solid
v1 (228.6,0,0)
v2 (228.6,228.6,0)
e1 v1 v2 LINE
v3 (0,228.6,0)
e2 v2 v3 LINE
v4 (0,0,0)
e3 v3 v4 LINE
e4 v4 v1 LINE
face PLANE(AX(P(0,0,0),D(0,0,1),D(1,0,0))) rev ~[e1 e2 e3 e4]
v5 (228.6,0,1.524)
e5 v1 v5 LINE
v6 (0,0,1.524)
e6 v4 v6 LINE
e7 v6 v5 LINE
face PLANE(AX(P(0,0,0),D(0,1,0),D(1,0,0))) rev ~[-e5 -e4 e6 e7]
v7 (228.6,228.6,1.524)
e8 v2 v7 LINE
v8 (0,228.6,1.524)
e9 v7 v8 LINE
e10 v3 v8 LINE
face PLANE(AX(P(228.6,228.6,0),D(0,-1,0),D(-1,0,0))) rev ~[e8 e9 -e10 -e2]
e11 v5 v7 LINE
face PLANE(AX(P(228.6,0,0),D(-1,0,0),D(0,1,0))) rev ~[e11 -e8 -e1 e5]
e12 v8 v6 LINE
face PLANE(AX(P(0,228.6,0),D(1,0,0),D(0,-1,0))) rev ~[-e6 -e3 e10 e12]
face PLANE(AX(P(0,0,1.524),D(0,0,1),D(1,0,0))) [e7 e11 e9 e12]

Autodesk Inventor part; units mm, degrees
ref_plane "YZ Plane" through (0, 0, 0) normal (1, 0, 0) x (0, 1, 0)
ref_plane "XZ Plane" through (0, 0, 0) normal (0, 1, 0) x (-1, 0, 0)
ref_plane "XY Plane" through (0, 0, 0) normal (0, 0, 1) x (1, 0, 0)
sketch "Sketch1" plane through (0, 0, 0) normal (0, 0, 1) x (1, 0, 0)
  line L0 (0, 0) -> (228.6, 0)
  line L1 (228.6, 0) -> (228.6, 228.6)
  line L2 (228.6, 228.6) -> (0, 228.6)
  line L3 (0, 228.6) -> (0, 0)
  dimension "d0" = 228.6
  dimension "d1" = 228.6
extrude "Extrusion1" add sketch "Sketch1" along normal blind 1.524
sketch "Details" plane through (0, 0, 1.524) normal (0, 0, 1) x (1, 0, 0)
  line L0 (0, 0) -> (82.55, 0) construction
  line L1 (82.55, 0) -> (82.55, 12.7) construction
  line L2 (82.55, 12.7) -> (0, 12.7) construction
  line L3 (0, 12.7) -> (0, 0) construction
  line L4 (82.55, 12.7) -> (146.05, 12.7)
  line L5 (146.05, 12.7) -> (146.05, 15.24)
  line L6 (146.05, 15.24) -> (82.55, 15.24)
  line L7 (82.55, 15.24) -> (82.55, 12.7)
  line L8 (82.55, 12.7) -> (100.33, 12.7)
  line L9 (100.33, 12.7) -> (100.33, 15.24)
  line L10 (100.33, 15.24) -> (82.55, 15.24)
  line L11 (82.55, 15.24) -> (82.55, 12.7)
  line L12 (105.41, 15.24) -> (105.41, 12.7)
  line L13 (123.19, 12.7) -> (123.19, 15.24)
  line L14 (128.27, 15.24) -> (128.27, 12.7)
  line L15 (146.05, 12.7) -> (146.05, 15.24)
  line L16 (82.55, 40.64) -> (82.55, 38.1)
  line L17 (82.55, 38.1) -> (100.33, 38.1)
  line L18 (100.33, 38.1) -> (100.33, 40.64)
  line L19 (100.33, 40.64) -> (82.55, 40.64)
  line L20 (146.05, 40.64) -> (82.55, 40.64)
  line L21 (105.41, 40.64) -> (105.41, 38.1)
  line L22 (82.55, 38.1) -> (146.05, 38.1)
  line L23 (146.05, 38.1) -> (146.05, 40.64)
  line L24 (128.27, 40.64) -> (128.27, 38.1)
  line L25 (123.19, 38.1) -> (123.19, 40.64)
  line L26 (82.55, 66.04) -> (82.55, 63.5)
  line L27 (82.55, 63.5) -> (100.33, 63.5)
  line L28 (100.33, 63.5) -> (100.33, 66.04)
  line L29 (100.33, 66.04) -> (82.55, 66.04)
  line L30 (146.05, 66.04) -> (82.55, 66.04)
  line L31 (105.41, 66.04) -> (105.41, 63.5)
  line L32 (82.55, 63.5) -> (146.05, 63.5)
  line L33 (146.05, 63.5) -> (146.05, 66.04)
  line L34 (128.27, 66.04) -> (128.27, 63.5)
  line L35 (123.19, 63.5) -> (123.19, 66.04)
  line L36 (82.55, 91.44) -> (82.55, 88.9)
  line L37 (82.55, 88.9) -> (100.33, 88.9)
  line L38 (100.33, 88.9) -> (100.33, 91.44)
  line L39 (100.33, 91.44) -> (82.55, 91.44)
  line L40 (146.05, 91.44) -> (82.55, 91.44)
  line L41 (105.41, 91.44) -> (105.41, 88.9)
  line L42 (82.55, 88.9) -> (146.05, 88.9)
  line L43 (146.05, 88.9) -> (146.05, 91.44)
  line L44 (128.27, 91.44) -> (128.27, 88.9)
  line L45 (123.19, 88.9) -> (123.19, 91.44)
  line L46 (82.55, 116.84) -> (82.55, 114.3)
  line L47 (82.55, 114.3) -> (100.33, 114.3)
  line L48 (100.33, 114.3) -> (100.33, 116.84)
  line L49 (100.33, 116.84) -> (82.55, 116.84)
  line L50 (146.05, 116.84) -> (82.55, 116.84)
  line L51 (105.41, 116.84) -> (105.41, 114.3)
  line L52 (82.55, 114.3) -> (146.05, 114.3)
  line L53 (146.05, 114.3) -> (146.05, 116.84)
  line L54 (128.27, 116.84) -> (128.27, 114.3)
  line L55 (123.19, 114.3) -> (123.19, 116.84)
  line L56 (82.55, 142.24) -> (82.55, 139.7)
  line L57 (82.55, 139.7) -> (100.33, 139.7)
  line L58 (100.33, 139.7) -> (100.33, 142.24)
  line L59 (100.33, 142.24) -> (82.55, 142.24)
  line L60 (146.05, 142.24) -> (82.55, 142.24)
  line L61 (105.41, 142.24) -> (105.41, 139.7)
  line L62 (82.55, 139.7) -> (146.05, 139.7)
  line L63 (146.05, 139.7) -> (146.05, 142.24)
  line L64 (128.27, 142.24) -> (128.27, 139.7)
  line L65 (123.19, 139.7) -> (123.19, 142.24)
  line L66 (82.55, 167.64) -> (82.55, 165.1)
  line L67 (82.55, 165.1) -> (100.33, 165.1)
  line L68 (100.33, 165.1) -> (100.33, 167.64)
  line L69 (100.33, 167.64) -> (82.55, 167.64)
  line L70 (146.05, 167.64) -> (82.55, 167.64)
  line L71 (105.41, 167.64) -> (105.41, 165.1)
  line L72 (82.55, 165.1) -> (146.05, 165.1)
  line L73 (146.05, 165.1) -> (146.05, 167.64)
  line L74 (128.27, 167.64) -> (128.27, 165.1)
  line L75 (123.19, 165.1) -> (123.19, 167.64)
  line L76 (82.55, 193.04) -> (82.55, 190.5)
  line L77 (82.55, 190.5) -> (100.33, 190.5)
  line L78 (100.33, 190.5) -> (100.33, 193.04)
  line L79 (100.33, 193.04) -> (82.55, 193.04)
  line L80 (146.05, 193.04) -> (82.55, 193.04)
  line L81 (105.41, 193.04) -> (105.41, 190.5)
  line L82 (82.55, 190.5) -> (146.05, 190.5)
  line L83 (146.05, 190.5) -> (146.05, 193.04)
  line L84 (128.27, 193.04) -> (128.27, 190.5)
  line L85 (123.19, 190.5) -> (123.19, 193.04)
  line L86 (82.55, 15.24) -> (83.185, 15.24) construction
  line L87 (83.185, 15.24) -> (83.185, 14.478) construction
  line L88 (83.185, 14.478) -> (82.55, 14.478) construction
  line L89 (82.55, 14.478) -> (82.55, 15.24) construction
  line L90 (83.185, 14.478) -> (81.915, 14.478)
  line L91 (81.915, 14.478) -> (81.915, 16.764)
  line L92 (81.915, 16.764) -> (83.185, 16.764)
  line L93 (83.185, 16.764) -> (83.185, 14.478)
  line L94 (86.995, 14.478) -> (86.995, 16.764)
  line L95 (86.995, 16.764) -> (88.265, 16.764)
  line L96 (88.265, 16.764) -> (88.265, 14.478)
  line L97 (88.265, 14.478) -> (86.995, 14.478)
  line L98 (92.075, 14.478) -> (92.075, 16.764)
  line L99 (92.075, 16.764) -> (93.345, 16.764)
  line L100 (93.345, 16.764) -> (93.345, 14.478)
  line L101 (93.345, 14.478) -> (92.075, 14.478)
  line L102 (97.155, 14.478) -> (97.155, 16.764)
  line L103 (97.155, 16.764) -> (98.425, 16.764)
  line L104 (98.425, 16.764) -> (98.425, 14.478)
  line L105 (98.425, 14.478) -> (97.155, 14.478)
  line L106 (100.33, 12.7) -> (99.695, 12.7) construction
  line L107 (99.695, 12.7) -> (99.695, 13.462) construction
  line L108 (99.695, 13.462) -> (100.33, 13.462) construction
  line L109 (100.33, 13.462) -> (100.33, 12.7) construction
  line L110 (99.695, 13.462) -> (100.9573, 13.462)
  line L111 (100.9573, 13.462) -> (100.9573, 11.176)
  line L112 (100.9573, 11.176) -> (99.695, 11.176)
  line L113 (99.695, 11.176) -> (99.695, 13.462)
  line L114 (94.615, 13.462) -> (95.8773, 13.462)
  line L115 (95.8773, 13.462) -> (95.8773, 11.176)
  line L116 (95.8773, 11.176) -> (94.615, 11.176)
  line L117 (94.615, 11.176) -> (94.615, 13.462)
  line L118 (89.535, 13.462) -> (90.7973, 13.462)
  line L119 (90.7973, 13.462) -> (90.7973, 11.176)
  line L120 (90.7973, 11.176) -> (89.535, 11.176)
  line L121 (89.535, 11.176) -> (89.535, 13.462)
  line L122 (84.455, 13.462) -> (85.7173, 13.462)
  line L123 (85.7173, 13.462) -> (85.7173, 11.176)
  line L124 (85.7173, 11.176) -> (84.455, 11.176)
  line L125 (84.455, 11.176) -> (84.455, 13.462)
  line L126 (81.915, 39.878) -> (81.915, 42.164)
  line L127 (81.915, 42.164) -> (83.185, 42.164)
  line L128 (83.185, 42.164) -> (83.185, 39.878)
  line L129 (83.185, 39.878) -> (81.915, 39.878)
  line L130 (84.455, 38.862) -> (85.7173, 38.862)
  line L131 (85.7173, 38.862) -> (85.7173, 36.576)
  line L132 (85.7173, 36.576) -> (84.455, 36.576)
  line L133 (84.455, 36.576) -> (84.455, 38.862)
  line L134 (88.265, 39.878) -> (86.995, 39.878)
  line L135 (88.265, 42.164) -> (88.265, 39.878)
  line L136 (86.995, 39.878) -> (86.995, 42.164)
  line L137 (86.995, 42.164) -> (88.265, 42.164)
  line L138 (89.535, 36.576) -> (89.535, 38.862)
  line L139 (90.7973, 36.576) -> (89.535, 36.576)
  line L140 (90.7973, 38.862) -> (90.7973, 36.576)
  line L141 (89.535, 38.862) -> (90.7973, 38.862)
  line L142 (92.075, 39.878) -> (92.075, 42.164)
  line L143 (93.345, 39.878) -> (92.075, 39.878)
  line L144 (93.345, 42.164) -> (93.345, 39.878)
  line L145 (92.075, 42.164) -> (93.345, 42.164)
  line L146 (94.615, 36.576) -> (94.615, 38.862)
  line L147 (94.615, 38.862) -> (95.8773, 38.862)
  line L148 (95.8773, 38.862) -> (95.8773, 36.576)
  line L149 (95.8773, 36.576) -> (94.615, 36.576)
  line L150 (97.155, 39.878) -> (97.155, 42.164)
  line L151 (97.155, 42.164) -> (98.425, 42.164)
  line L152 (98.425, 42.164) -> (98.425, 39.878)
  line L153 (98.425, 39.878) -> (97.155, 39.878)
  line L154 (99.695, 38.862) -> (100.9573, 38.862)
  line L155 (100.9573, 38.862) -> (100.9573, 36.576)
  line L156 (100.9573, 36.576) -> (99.695, 36.576)
  line L157 (99.695, 36.576) -> (99.695, 38.862)
  line L158 (81.915, 65.278) -> (81.915, 67.564)
  line L159 (81.915, 67.564) -> (83.185, 67.564)
  line L160 (83.185, 67.564) -> (83.185, 65.278)
  line L161 (83.185, 65.278) -> (81.915, 65.278)
  line L162 (84.455, 64.262) -> (85.7173, 64.262)
  line L163 (85.7173, 64.262) -> (85.7173, 61.976)
  line L164 (85.7173, 61.976) -> (84.455, 61.976)
  line L165 (84.455, 61.976) -> (84.455, 64.262)
  line L166 (88.265, 65.278) -> (86.995, 65.278)
  line L167 (88.265, 67.564) -> (88.265, 65.278)
  line L168 (86.995, 65.278) -> (86.995, 67.564)
  line L169 (86.995, 67.564) -> (88.265, 67.564)
  line L170 (89.535, 61.976) -> (89.535, 64.262)
  line L171 (90.7973, 61.976) -> (89.535, 61.976)
  line L172 (90.7973, 64.262) -> (90.7973, 61.976)
  line L173 (89.535, 64.262) -> (90.7973, 64.262)
  line L174 (92.075, 65.278) -> (92.075, 67.564)
  line L175 (93.345, 65.278) -> (92.075, 65.278)
  line L176 (93.345, 67.564) -> (93.345, 65.278)
  line L177 (92.075, 67.564) -> (93.345, 67.564)
  line L178 (94.615, 61.976) -> (94.615, 64.262)
  line L179 (94.615, 64.262) -> (95.8773, 64.262)
  line L180 (95.8773, 64.262) -> (95.8773, 61.976)
  line L181 (95.8773, 61.976) -> (94.615, 61.976)
  line L182 (97.155, 65.278) -> (97.155, 67.564)
  line L183 (97.155, 67.564) -> (98.425, 67.564)
  line L184 (98.425, 67.564) -> (98.425, 65.278)
  line L185 (98.425, 65.278) -> (97.155, 65.278)
  line L186 (99.695, 64.262) -> (100.9573, 64.262)
  line L187 (100.9573, 64.262) -> (100.9573, 61.976)
  line L188 (100.9573, 61.976) -> (99.695, 61.976)
  line L189 (99.695, 61.976) -> (99.695, 64.262)
  line L190 (81.915, 90.678) -> (81.915, 92.964)
  line L191 (81.915, 92.964) -> (83.185, 92.964)
  line L192 (83.185, 92.964) -> (83.185, 90.678)
  line L193 (83.185, 90.678) -> (81.915, 90.678)
  line L194 (84.455, 89.662) -> (85.7173, 89.662)
  line L195 (85.7173, 89.662) -> (85.7173, 87.376)
  line L196 (85.7173, 87.376) -> (84.455, 87.376)
  line L197 (84.455, 87.376) -> (84.455, 89.662)
  line L198 (88.265, 90.678) -> (86.995, 90.678)
  line L199 (88.265, 92.964) -> (88.265, 90.678)
  line L200 (86.995, 90.678) -> (86.995, 92.964)
  line L201 (86.995, 92.964) -> (88.265, 92.964)
  line L202 (89.535, 87.376) -> (89.535, 89.662)
  line L203 (90.7973, 87.376) -> (89.535, 87.376)
  line L204 (90.7973, 89.662) -> (90.7973, 87.376)
  line L205 (89.535, 89.662) -> (90.7973, 89.662)
  line L206 (92.075, 90.678) -> (92.075, 92.964)
  line L207 (93.345, 90.678) -> (92.075, 90.678)
  line L208 (93.345, 92.964) -> (93.345, 90.678)
  line L209 (92.075, 92.964) -> (93.345, 92.964)
  line L210 (94.615, 87.376) -> (94.615, 89.662)
  line L211 (94.615, 89.662) -> (95.8773, 89.662)
  line L212 (95.8773, 89.662) -> (95.8773, 87.376)
  line L213 (95.8773, 87.376) -> (94.615, 87.376)
  line L214 (97.155, 90.678) -> (97.155, 92.964)
  line L215 (97.155, 92.964) -> (98.425, 92.964)
  line L216 (98.425, 92.964) -> (98.425, 90.678)
  line L217 (98.425, 90.678) -> (97.155, 90.678)
  line L218 (99.695, 89.662) -> (100.9573, 89.662)
  line L219 (100.9573, 89.662) -> (100.9573, 87.376)
  line L220 (100.9573, 87.376) -> (99.695, 87.376)
  line L221 (99.695, 87.376) -> (99.695, 89.662)
  line L222 (81.915, 116.078) -> (81.915, 118.364)
  line L223 (81.915, 118.364) -> (83.185, 118.364)
  line L224 (83.185, 118.364) -> (83.185, 116.078)
  line L225 (83.185, 116.078) -> (81.915, 116.078)
  line L226 (84.455, 115.062) -> (85.7173, 115.062)
  line L227 (85.7173, 115.062) -> (85.7173, 112.776)
  line L228 (85.7173, 112.776) -> (84.455, 112.776)
  line L229 (84.455, 112.776) -> (84.455, 115.062)
  line L230 (88.265, 116.078) -> (86.995, 116.078)
  line L231 (88.265, 118.364) -> (88.265, 116.078)
  line L232 (86.995, 116.078) -> (86.995, 118.364)
  line L233 (86.995, 118.364) -> (88.265, 118.364)
  line L234 (89.535, 112.776) -> (89.535, 115.062)
  line L235 (90.7973, 112.776) -> (89.535, 112.776)
  line L236 (90.7973, 115.062) -> (90.7973, 112.776)
  line L237 (89.535, 115.062) -> (90.7973, 115.062)
  line L238 (92.075, 116.078) -> (92.075, 118.364)
  line L239 (93.345, 116.078) -> (92.075, 116.078)
  line L240 (93.345, 118.364) -> (93.345, 116.078)
  line L241 (92.075, 118.364) -> (93.345, 118.364)
  line L242 (94.615, 112.776) -> (94.615, 115.062)
  line L243 (94.615, 115.062) -> (95.8773, 115.062)
  line L244 (95.8773, 115.062) -> (95.8773, 112.776)
  line L245 (95.8773, 112.776) -> (94.615, 112.776)
  line L246 (97.155, 116.078) -> (97.155, 118.364)
  line L247 (97.155, 118.364) -> (98.425, 118.364)
  line L248 (98.425, 118.364) -> (98.425, 116.078)
  line L249 (98.425, 116.078) -> (97.155, 116.078)
  line L250 (99.695, 115.062) -> (100.9573, 115.062)
  line L251 (100.9573, 115.062) -> (100.9573, 112.776)
  line L252 (100.9573, 112.776) -> (99.695, 112.776)
  line L253 (99.695, 112.776) -> (99.695, 115.062)
  line L254 (81.915, 141.478) -> (81.915, 143.764)
  line L255 (81.915, 143.764) -> (83.185, 143.764)
  line L256 (83.185, 143.764) -> (83.185, 141.478)
  line L257 (83.185, 141.478) -> (81.915, 141.478)
  line L258 (84.455, 140.462) -> (85.7173, 140.462)
  line L259 (85.7173, 140.462) -> (85.7173, 138.176)
  line L260 (85.7173, 138.176) -> (84.455, 138.176)
  line L261 (84.455, 138.176) -> (84.455, 140.462)
  line L262 (88.265, 141.478) -> (86.995, 141.478)
  line L263 (88.265, 143.764) -> (88.265, 141.478)
  line L264 (86.995, 141.478) -> (86.995, 143.764)
  line L265 (86.995, 143.764) -> (88.265, 143.764)
  line L266 (89.535, 138.176) -> (89.535, 140.462)
  line L267 (90.7973, 138.176) -> (89.535, 138.176)
  line L268 (90.7973, 140.462) -> (90.7973, 138.176)
  line L269 (89.535, 140.462) -> (90.7973, 140.462)
  line L270 (92.075, 141.478) -> (92.075, 143.764)
  line L271 (93.345, 141.478) -> (92.075, 141.478)
  line L272 (93.345, 143.764) -> (93.345, 141.478)
  line L273 (92.075, 143.764) -> (93.345, 143.764)
  line L274 (94.615, 138.176) -> (94.615, 140.462)
  line L275 (94.615, 140.462) -> (95.8773, 140.462)
  line L276 (95.8773, 140.462) -> (95.8773, 138.176)
  line L277 (95.8773, 138.176) -> (94.615, 138.176)
  line L278 (97.155, 141.478) -> (97.155, 143.764)
  line L279 (97.155, 143.764) -> (98.425, 143.764)
  line L280 (98.425, 143.764) -> (98.425, 141.478)
  line L281 (98.425, 141.478) -> (97.155, 141.478)
  line L282 (99.695, 140.462) -> (100.9573, 140.462)
  line L283 (100.9573, 140.462) -> (100.9573, 138.176)
  line L284 (100.9573, 138.176) -> (99.695, 138.176)
  line L285 (99.695, 138.176) -> (99.695, 140.462)
  line L286 (81.915, 166.878) -> (81.915, 169.164)
  line L287 (81.915, 169.164) -> (83.185, 169.164)
  line L288 (83.185, 169.164) -> (83.185, 166.878)
  line L289 (83.185, 166.878) -> (81.915, 166.878)
  line L290 (84.455, 165.862) -> (85.7173, 165.862)
  line L291 (85.7173, 165.862) -> (85.7173, 163.576)
  line L292 (85.7173, 163.576) -> (84.455, 163.576)
  line L293 (84.455, 163.576) -> (84.455, 165.862)
  line L294 (88.265, 166.878) -> (86.995, 166.878)
  line L295 (88.265, 169.164) -> (88.265, 166.878)
  line L296 (86.995, 166.878) -> (86.995, 169.164)
  line L297 (86.995, 169.164) -> (88.265, 169.164)
  line L298 (89.535, 163.576) -> (89.535, 165.862)
  line L299 (90.7973, 163.576) -> (89.535, 163.576)
  line L300 (90.7973, 165.862) -> (90.7973, 163.576)
  line L301 (89.535, 165.862) -> (90.7973, 165.862)
  line L302 (92.075, 166.878) -> (92.075, 169.164)
  line L303 (93.345, 166.878) -> (92.075, 166.878)
  line L304 (93.345, 169.164) -> (93.345, 166.878)
  line L305 (92.075, 169.164) -> (93.345, 169.164)
  line L306 (94.615, 163.576) -> (94.615, 165.862)
  line L307 (94.615, 165.862) -> (95.8773, 165.862)
  line L308 (95.8773, 165.862) -> (95.8773, 163.576)
  line L309 (95.8773, 163.576) -> (94.615, 163.576)
  line L310 (97.155, 166.878) -> (97.155, 169.164)
  line L311 (97.155, 169.164) -> (98.425, 169.164)
  line L312 (98.425, 169.164) -> (98.425, 166.878)
  line L313 (98.425, 166.878) -> (97.155, 166.878)
  line L314 (99.695, 165.862) -> (100.9573, 165.862)
  line L315 (100.9573, 165.862) -> (100.9573, 163.576)
  line L316 (100.9573, 163.576) -> (99.695, 163.576)
  line L317 (99.695, 163.576) -> (99.695, 165.862)
  line L318 (81.915, 192.278) -> (81.915, 194.564)
  line L319 (81.915, 194.564) -> (83.185, 194.564)
  line L320 (83.185, 194.564) -> (83.185, 192.278)
  line L321 (83.185, 192.278) -> (81.915, 192.278)
  line L322 (84.455, 191.262) -> (85.7173, 191.262)
  line L323 (85.7173, 191.262) -> (85.7173, 188.976)
  line L324 (85.7173, 188.976) -> (84.455, 188.976)
  line L325 (84.455, 188.976) -> (84.455, 191.262)
  line L326 (88.265, 192.278) -> (86.995, 192.278)
  line L327 (88.265, 194.564) -> (88.265, 192.278)
  line L328 (86.995, 192.278) -> (86.995, 194.564)
  line L329 (86.995, 194.564) -> (88.265, 194.564)
  line L330 (89.535, 188.976) -> (89.535, 191.262)
  line L331 (90.7973, 188.976) -> (89.535, 188.976)
  line L332 (90.7973, 191.262) -> (90.7973, 188.976)
  line L333 (89.535, 191.262) -> (90.7973, 191.262)
  line L334 (92.075, 192.278) -> (92.075, 194.564)
  line L335 (93.345, 192.278) -> (92.075, 192.278)
  line L336 (93.345, 194.564) -> (93.345, 192.278)
  line L337 (92.075, 194.564) -> (93.345, 194.564)
  line L338 (94.615, 188.976) -> (94.615, 191.262)
  line L339 (94.615, 191.262) -> (95.8773, 191.262)
  line L340 (95.8773, 191.262) -> (95.8773, 188.976)
  line L341 (95.8773, 188.976) -> (94.615, 188.976)
  line L342 (97.155, 192.278) -> (97.155, 194.564)
  line L343 (97.155, 194.564) -> (98.425, 194.564)
  line L344 (98.425, 194.564) -> (98.425, 192.278)
  line L345 (98.425, 192.278) -> (97.155, 192.278)
  line L346 (99.695, 191.262) -> (100.9573, 191.262)
  line L347 (100.9573, 191.262) -> (100.9573, 188.976)
  line L348 (100.9573, 188.976) -> (99.695, 188.976)
  line L349 (99.695, 188.976) -> (99.695, 191.262)
  line L350 (104.775, 14.478) -> (104.775, 16.764)
  line L351 (104.775, 16.764) -> (106.045, 16.764)
  line L352 (106.045, 16.764) -> (106.045, 14.478)
  line L353 (106.045, 14.478) -> (104.775, 14.478)
  line L354 (107.315, 13.462) -> (108.5773, 13.462)
  line L355 (108.5773, 13.462) -> (108.5773, 11.176)
  line L356 (108.5773, 11.176) -> (107.315, 11.176)
  line L357 (107.315, 11.176) -> (107.315, 13.462)
  line L358 (111.125, 14.478) -> (109.855, 14.478)
  line L359 (111.125, 16.764) -> (111.125, 14.478)
  line L360 (109.855, 14.478) -> (109.855, 16.764)
  line L361 (109.855, 16.764) -> (111.125, 16.764)
  line L362 (112.395, 11.176) -> (112.395, 13.462)
  line L363 (113.6573, 11.176) -> (112.395, 11.176)
  line L364 (113.6573, 13.462) -> (113.6573, 11.176)
  line L365 (112.395, 13.462) -> (113.6573, 13.462)
  line L366 (114.935, 14.478) -> (114.935, 16.764)
  line L367 (116.205, 14.478) -> (114.935, 14.478)
  line L368 (116.205, 16.764) -> (116.205, 14.478)
  line L369 (114.935, 16.764) -> (116.205, 16.764)
  line L370 (117.475, 11.176) -> (117.475, 13.462)
  line L371 (117.475, 13.462) -> (118.7373, 13.462)
  line L372 (118.7373, 13.462) -> (118.7373, 11.176)
  line L373 (118.7373, 11.176) -> (117.475, 11.176)
  line L374 (120.015, 14.478) -> (120.015, 16.764)
  line L375 (120.015, 16.764) -> (121.285, 16.764)
  line L376 (121.285, 16.764) -> (121.285, 14.478)
  line L377 (121.285, 14.478) -> (120.015, 14.478)
  line L378 (122.555, 13.462) -> (123.8173, 13.462)
  line L379 (123.8173, 13.462) -> (123.8173, 11.176)
  line L380 (123.8173, 11.176) -> (122.555, 11.176)
  line L381 (122.555, 11.176) -> (122.555, 13.462)
  line L382 (104.775, 39.878) -> (104.775, 42.164)
  line L383 (104.775, 42.164) -> (106.045, 42.164)
  line L384 (106.045, 42.164) -> (106.045, 39.878)
  line L385 (106.045, 39.878) -> (104.775, 39.878)
  line L386 (107.315, 38.862) -> (108.5773, 38.862)
  line L387 (108.5773, 38.862) -> (108.5773, 36.576)
  line L388 (108.5773, 36.576) -> (107.315, 36.576)
  line L389 (107.315, 36.576) -> (107.315, 38.862)
  line L390 (111.125, 39.878) -> (109.855, 39.878)
  line L391 (111.125, 42.164) -> (111.125, 39.878)
  line L392 (109.855, 39.878) -> (109.855, 42.164)
  line L393 (109.855, 42.164) -> (111.125, 42.164)
  line L394 (112.395, 36.576) -> (112.395, 38.862)
  line L395 (113.6573, 36.576) -> (112.395, 36.576)
  line L396 (113.6573, 38.862) -> (113.6573, 36.576)
  line L397 (112.395, 38.862) -> (113.6573, 38.862)
  line L398 (114.935, 39.878) -> (114.935, 42.164)
  line L399 (116.205, 39.878) -> (114.935, 39.878)
  line L400 (116.205, 42.164) -> (116.205, 39.878)
  line L401 (114.935, 42.164) -> (116.205, 42.164)
  line L402 (117.475, 36.576) -> (117.475, 38.862)
  line L403 (117.475, 38.862) -> (118.7373, 38.862)
  line L404 (118.7373, 38.862) -> (118.7373, 36.576)
  line L405 (118.7373, 36.576) -> (117.475, 36.576)
  line L406 (120.015, 39.878) -> (120.015, 42.164)
  line L407 (120.015, 42.164) -> (121.285, 42.164)
  line L408 (121.285, 42.164) -> (121.285, 39.878)
  line L409 (121.285, 39.878) -> (120.015, 39.878)
  line L410 (122.555, 38.862) -> (123.8173, 38.862)
  line L411 (123.8173, 38.862) -> (123.8173, 36.576)
  line L412 (123.8173, 36.576) -> (122.555, 36.576)
  line L413 (122.555, 36.576) -> (122.555, 38.862)
  line L414 (104.775, 65.278) -> (104.775, 67.564)
  line L415 (104.775, 67.564) -> (106.045, 67.564)
  line L416 (106.045, 67.564) -> (106.045, 65.278)
  line L417 (106.045, 65.278) -> (104.775, 65.278)
  line L418 (107.315, 64.262) -> (108.5773, 64.262)
  line L419 (108.5773, 64.262) -> (108.5773, 61.976)
  line L420 (108.5773, 61.976) -> (107.315, 61.976)
  line L421 (107.315, 61.976) -> (107.315, 64.262)
  line L422 (111.125, 65.278) -> (109.855, 65.278)
  line L423 (111.125, 67.564) -> (111.125, 65.278)
  line L424 (109.855, 65.278) -> (109.855, 67.564)
  line L425 (109.855, 67.564) -> (111.125, 67.564)
  line L426 (112.395, 61.976) -> (112.395, 64.262)
  line L427 (113.6573, 61.976) -> (112.395, 61.976)
  line L428 (113.6573, 64.262) -> (113.6573, 61.976)
  line L429 (112.395, 64.262) -> (113.6573, 64.262)
  line L430 (114.935, 65.278) -> (114.935, 67.564)
  line L431 (116.205, 65.278) -> (114.935, 65.278)
  line L432 (116.205, 67.564) -> (116.205, 65.278)
  line L433 (114.935, 67.564) -> (116.205, 67.564)
  line L434 (117.475, 61.976) -> (117.475, 64.262)
  line L435 (117.475, 64.262) -> (118.7373, 64.262)
  line L436 (118.7373, 64.262) -> (118.7373, 61.976)
  line L437 (118.7373, 61.976) -> (117.475, 61.976)
  line L438 (120.015, 65.278) -> (120.015, 67.564)
  line L439 (120.015, 67.564) -> (121.285, 67.564)
  line L440 (121.285, 67.564) -> (121.285, 65.278)
  line L441 (121.285, 65.278) -> (120.015, 65.278)
  line L442 (122.555, 64.262) -> (123.8173, 64.262)
  line L443 (123.8173, 64.262) -> (123.8173, 61.976)
  line L444 (123.8173, 61.976) -> (122.555, 61.976)
  line L445 (122.555, 61.976) -> (122.555, 64.262)
  line L446 (104.775, 90.678) -> (104.775, 92.964)
  line L447 (104.775, 92.964) -> (106.045, 92.964)
  line L448 (106.045, 92.964) -> (106.045, 90.678)
  line L449 (106.045, 90.678) -> (104.775, 90.678)
  line L450 (107.315, 89.662) -> (108.5773, 89.662)
  line L451 (108.5773, 89.662) -> (108.5773, 87.376)
  line L452 (108.5773, 87.376) -> (107.315, 87.376)
  line L453 (107.315, 87.376) -> (107.315, 89.662)
  line L454 (111.125, 90.678) -> (109.855, 90.678)
  line L455 (111.125, 92.964) -> (111.125, 90.678)
  line L456 (109.855, 90.678) -> (109.855, 92.964)
  line L457 (109.855, 92.964) -> (111.125, 92.964)
  line L458 (112.395, 87.376) -> (112.395, 89.662)
  line L459 (113.6573, 87.376) -> (112.395, 87.376)
  line L460 (113.6573, 89.662) -> (113.6573, 87.376)
  line L461 (112.395, 89.662) -> (113.6573, 89.662)
  line L462 (114.935, 90.678) -> (114.935, 92.964)
  line L463 (116.205, 90.678) -> (114.935, 90.678)
  line L464 (116.205, 92.964) -> (116.205, 90.678)
  line L465 (114.935, 92.964) -> (116.205, 92.964)
  line L466 (117.475, 87.376) -> (117.475, 89.662)
  line L467 (117.475, 89.662) -> (118.7373, 89.662)
  line L468 (118.7373, 89.662) -> (118.7373, 87.376)
  line L469 (118.7373, 87.376) -> (117.475, 87.376)
  line L470 (120.015, 90.678) -> (120.015, 92.964)
  line L471 (120.015, 92.964) -> (121.285, 92.964)
  line L472 (121.285, 92.964) -> (121.285, 90.678)
  line L473 (121.285, 90.678) -> (120.015, 90.678)
  line L474 (122.555, 89.662) -> (123.8173, 89.662)
  line L475 (123.8173, 89.662) -> (123.8173, 87.376)
  line L476 (123.8173, 87.376) -> (122.555, 87.376)
  line L477 (122.555, 87.376) -> (122.555, 89.662)
  line L478 (104.775, 116.078) -> (104.775, 118.364)
  line L479 (104.775, 118.364) -> (106.045, 118.364)
  line L480 (106.045, 118.364) -> (106.045, 116.078)
  line L481 (106.045, 116.078) -> (104.775, 116.078)
  line L482 (107.315, 115.062) -> (108.5773, 115.062)
  line L483 (108.5773, 115.062) -> (108.5773, 112.776)
  line L484 (108.5773, 112.776) -> (107.315, 112.776)
  line L485 (107.315, 112.776) -> (107.315, 115.062)
  line L486 (111.125, 116.078) -> (109.855, 116.078)
  line L487 (111.125, 118.364) -> (111.125, 116.078)
  line L488 (109.855, 116.078) -> (109.855, 118.364)
  line L489 (109.855, 118.364) -> (111.125, 118.364)
  line L490 (112.395, 112.776) -> (112.395, 115.062)
  line L491 (113.6573, 112.776) -> (112.395, 112.776)
  line L492 (113.6573, 115.062) -> (113.6573, 112.776)
  line L493 (112.395, 115.062) -> (113.6573, 115.062)
  line L494 (114.935, 116.078) -> (114.935, 118.364)
  line L495 (116.205, 116.078) -> (114.935, 116.078)
  line L496 (116.205, 118.364) -> (116.205, 116.078)
  line L497 (114.935, 118.364) -> (116.205, 118.364)
  line L498 (117.475, 112.776) -> (117.475, 115.062)
  line L499 (117.475, 115.062) -> (118.7373, 115.062)
  line L500 (118.7373, 115.062) -> (118.7373, 112.776)
  line L501 (118.7373, 112.776) -> (117.475, 112.776)
  line L502 (120.015, 116.078) -> (120.015, 118.364)
  line L503 (120.015, 118.364) -> (121.285, 118.364)
  line L504 (121.285, 118.364) -> (121.285, 116.078)
  line L505 (121.285, 116.078) -> (120.015, 116.078)
  line L506 (122.555, 115.062) -> (123.8173, 115.062)
  line L507 (123.8173, 115.062) -> (123.8173, 112.776)
  line L508 (123.8173, 112.776) -> (122.555, 112.776)
  line L509 (122.555, 112.776) -> (122.555, 115.062)
  line L510 (104.775, 141.478) -> (104.775, 143.764)
  line L511 (104.775, 143.764) -> (106.045, 143.764)
  line L512 (106.045, 143.764) -> (106.045, 141.478)
  line L513 (106.045, 141.478) -> (104.775, 141.478)
  line L514 (107.315, 140.462) -> (108.5773, 140.462)
  line L515 (108.5773, 140.462) -> (108.5773, 138.176)
  line L516 (108.5773, 138.176) -> (107.315, 138.176)
  line L517 (107.315, 138.176) -> (107.315, 140.462)
  line L518 (111.125, 141.478) -> (109.855, 141.478)
  line L519 (111.125, 143.764) -> (111.125, 141.478)
  line L520 (109.855, 141.478) -> (109.855, 143.764)
  line L521 (109.855, 143.764) -> (111.125, 143.764)
  line L522 (112.395, 138.176) -> (112.395, 140.462)
  line L523 (113.6573, 138.176) -> (112.395, 138.176)
  line L524 (113.6573, 140.462) -> (113.6573, 138.176)
  line L525 (112.395, 140.462) -> (113.6573, 140.462)
  line L526 (114.935, 141.478) -> (114.935, 143.764)
  line L527 (116.205, 141.478) -> (114.935, 141.478)
  line L528 (116.205, 143.764) -> (116.205, 141.478)
  line L529 (114.935, 143.764) -> (116.205, 143.764)
  line L530 (117.475, 138.176) -> (117.475, 140.462)
  line L531 (117.475, 140.462) -> (118.7373, 140.462)
  line L532 (118.7373, 140.462) -> (118.7373, 138.176)
  line L533 (118.7373, 138.176) -> (117.475, 138.176)
  line L534 (120.015, 141.478) -> (120.015, 143.764)
  line L535 (120.015, 143.764) -> (121.285, 143.764)
  line L536 (121.285, 143.764) -> (121.285, 141.478)
  line L537 (121.285, 141.478) -> (120.015, 141.478)
  line L538 (122.555, 140.462) -> (123.8173, 140.462)
  line L539 (123.8173, 140.462) -> (123.8173, 138.176)
  line L540 (123.8173, 138.176) -> (122.555, 138.176)
  line L541 (122.555, 138.176) -> (122.555, 140.462)
  line L542 (104.775, 166.878) -> (104.775, 169.164)
  line L543 (104.775, 169.164) -> (106.045, 169.164)
  line L544 (106.045, 169.164) -> (106.045, 166.878)
  line L545 (106.045, 166.878) -> (104.775, 166.878)
  line L546 (107.315, 165.862) -> (108.5773, 165.862)
  line L547 (108.5773, 165.862) -> (108.5773, 163.576)
  line L548 (108.5773, 163.576) -> (107.315, 163.576)
  line L549 (107.315, 163.576) -> (107.315, 165.862)
  line L550 (111.125, 166.878) -> (109.855, 166.878)
  line L551 (111.125, 169.164) -> (111.125, 166.878)
  line L552 (109.855, 166.878) -> (109.855, 169.164)
  line L553 (109.855, 169.164) -> (111.125, 169.164)
  line L554 (112.395, 163.576) -> (112.395, 165.862)
  line L555 (113.6573, 163.576) -> (112.395, 163.576)
  line L556 (113.6573, 165.862) -> (113.6573, 163.576)
  line L557 (112.395, 165.862) -> (113.6573, 165.862)
  line L558 (114.935, 166.878) -> (114.935, 169.164)
  line L559 (116.205, 166.878) -> (114.935, 166.878)
  line L560 (116.205, 169.164) -> (116.205, 166.878)
  line L561 (114.935, 169.164) -> (116.205, 169.164)
  line L562 (117.475, 163.576) -> (117.475, 165.862)
  line L563 (117.475, 165.862) -> (118.7373, 165.862)
  line L564 (118.7373, 165.862) -> (118.7373, 163.576)
  line L565 (118.7373, 163.576) -> (117.475, 163.576)
  line L566 (120.015, 166.878) -> (120.015, 169.164)
  line L567 (120.015, 169.164) -> (121.285, 169.164)
  line L568 (121.285, 169.164) -> (121.285, 166.878)
  line L569 (121.285, 166.878) -> (120.015, 166.878)
  line L570 (122.555, 165.862) -> (123.8173, 165.862)
  line L571 (123.8173, 165.862) -> (123.8173, 163.576)
  line L572 (123.8173, 163.576) -> (122.555, 163.576)
  line L573 (122.555, 163.576) -> (122.555, 165.862)
  line L574 (104.775, 192.278) -> (104.775, 194.564)
  line L575 (104.775, 194.564) -> (106.045, 194.564)
  line L576 (106.045, 194.564) -> (106.045, 192.278)
  line L577 (106.045, 192.278) -> (104.775, 192.278)
  line L578 (107.315, 191.262) -> (108.5773, 191.262)
  line L579 (108.5773, 191.262) -> (108.5773, 188.976)
  line L580 (108.5773, 188.976) -> (107.315, 188.976)
  line L581 (107.315, 188.976) -> (107.315, 191.262)
  line L582 (111.125, 192.278) -> (109.855, 192.278)
  line L583 (111.125, 194.564) -> (111.125, 192.278)
  line L584 (109.855, 192.278) -> (109.855, 194.564)
  line L585 (109.855, 194.564) -> (111.125, 194.564)
  line L586 (112.395, 188.976) -> (112.395, 191.262)
  line L587 (113.6573, 188.976) -> (112.395, 188.976)
  line L588 (113.6573, 191.262) -> (113.6573, 188.976)
  line L589 (112.395, 191.262) -> (113.6573, 191.262)
  line L590 (114.935, 192.278) -> (114.935, 194.564)
  line L591 (116.205, 192.278) -> (114.935, 192.278)
  line L592 (116.205, 194.564) -> (116.205, 192.278)
  line L593 (114.935, 194.564) -> (116.205, 194.564)
  line L594 (117.475, 188.976) -> (117.475, 191.262)
  line L595 (117.475, 191.262) -> (118.7373, 191.262)
  line L596 (118.7373, 191.262) -> (118.7373, 188.976)
  line L597 (118.7373, 188.976) -> (117.475, 188.976)
  line L598 (120.015, 192.278) -> (120.015, 194.564)
  line L599 (120.015, 194.564) -> (121.285, 194.564)
  line L600 (121.285, 194.564) -> (121.285, 192.278)
  line L601 (121.285, 192.278) -> (120.015, 192.278)
  line L602 (122.555, 191.262) -> (123.8173, 191.262)
  line L603 (123.8173, 191.262) -> (123.8173, 188.976)
  line L604 (123.8173, 188.976) -> (122.555, 188.976)
  line L605 (122.555, 188.976) -> (122.555, 191.262)
  line L606 (127.635, 14.478) -> (127.635, 16.764)
  line L607 (127.635, 16.764) -> (128.905, 16.764)
  line L608 (128.905, 16.764) -> (128.905, 14.478)
  line L609 (128.905, 14.478) -> (127.635, 14.478)
  line L610 (130.175, 13.462) -> (131.4373, 13.462)
  line L611 (131.4373, 13.462) -> (131.4373, 11.176)
  line L612 (131.4373, 11.176) -> (130.175, 11.176)
  line L613 (130.175, 11.176) -> (130.175, 13.462)
  line L614 (133.985, 14.478) -> (132.715, 14.478)
  line L615 (133.985, 16.764) -> (133.985, 14.478)
  line L616 (132.715, 14.478) -> (132.715, 16.764)
  line L617 (132.715, 16.764) -> (133.985, 16.764)
  line L618 (135.255, 11.176) -> (135.255, 13.462)
  line L619 (136.5173, 11.176) -> (135.255, 11.176)
  line L620 (136.5173, 13.462) -> (136.5173, 11.176)
  line L621 (135.255, 13.462) -> (136.5173, 13.462)
  line L622 (137.795, 14.478) -> (137.795, 16.764)
  line L623 (139.065, 14.478) -> (137.795, 14.478)
  line L624 (139.065, 16.764) -> (139.065, 14.478)
  line L625 (137.795, 16.764) -> (139.065, 16.764)
  line L626 (140.335, 11.176) -> (140.335, 13.462)
  line L627 (140.335, 13.462) -> (141.5973, 13.462)
  line L628 (141.5973, 13.462) -> (141.5973, 11.176)
  line L629 (141.5973, 11.176) -> (140.335, 11.176)
  line L630 (142.875, 14.478) -> (142.875, 16.764)
  line L631 (142.875, 16.764) -> (144.145, 16.764)
  line L632 (144.145, 16.764) -> (144.145, 14.478)
  line L633 (144.145, 14.478) -> (142.875, 14.478)
  line L634 (145.415, 13.462) -> (146.6773, 13.462)
  line L635 (146.6773, 13.462) -> (146.6773, 11.176)
  line L636 (146.6773, 11.176) -> (145.415, 11.176)
  line L637 (145.415, 11.176) -> (145.415, 13.462)
  line L638 (127.635, 39.878) -> (127.635, 42.164)
  line L639 (127.635, 42.164) -> (128.905, 42.164)
  line L640 (128.905, 42.164) -> (128.905, 39.878)
  line L641 (128.905, 39.878) -> (127.635, 39.878)
  line L642 (130.175, 38.862) -> (131.4373, 38.862)
  line L643 (131.4373, 38.862) -> (131.4373, 36.576)
  line L644 (131.4373, 36.576) -> (130.175, 36.576)
  line L645 (130.175, 36.576) -> (130.175, 38.862)
  line L646 (133.985, 39.878) -> (132.715, 39.878)
  line L647 (133.985, 42.164) -> (133.985, 39.878)
  line L648 (132.715, 39.878) -> (132.715, 42.164)
  line L649 (132.715, 42.164) -> (133.985, 42.164)
  line L650 (135.255, 36.576) -> (135.255, 38.862)
  line L651 (136.5173, 36.576) -> (135.255, 36.576)
  line L652 (136.5173, 38.862) -> (136.5173, 36.576)
  line L653 (135.255, 38.862) -> (136.5173, 38.862)
  line L654 (137.795, 39.878) -> (137.795, 42.164)
  line L655 (139.065, 39.878) -> (137.795, 39.878)
  line L656 (139.065, 42.164) -> (139.065, 39.878)
  line L657 (137.795, 42.164) -> (139.065, 42.164)
  line L658 (140.335, 36.576) -> (140.335, 38.862)
  line L659 (140.335, 38.862) -> (141.5973, 38.862)
  line L660 (141.5973, 38.862) -> (141.5973, 36.576)
  line L661 (141.5973, 36.576) -> (140.335, 36.576)
  line L662 (142.875, 39.878) -> (142.875, 42.164)
  line L663 (142.875, 42.164) -> (144.145, 42.164)
  line L664 (144.145, 42.164) -> (144.145, 39.878)
  line L665 (144.145, 39.878) -> (142.875, 39.878)
  line L666 (145.415, 38.862) -> (146.6773, 38.862)
  line L667 (146.6773, 38.862) -> (146.6773, 36.576)
  line L668 (146.6773, 36.576) -> (145.415, 36.576)
  line L669 (145.415, 36.576) -> (145.415, 38.862)
  line L670 (127.635, 65.278) -> (127.635, 67.564)
  line L671 (127.635, 67.564) -> (128.905, 67.564)
  line L672 (128.905, 67.564) -> (128.905, 65.278)
  line L673 (128.905, 65.278) -> (127.635, 65.278)
  line L674 (130.175, 64.262) -> (131.4373, 64.262)
  line L675 (131.4373, 64.262) -> (131.4373, 61.976)
  line L676 (131.4373, 61.976) -> (130.175, 61.976)
  line L677 (130.175, 61.976) -> (130.175, 64.262)
  line L678 (133.985, 65.278) -> (132.715, 65.278)
  line L679 (133.985, 67.564) -> (133.985, 65.278)
  line L680 (132.715, 65.278) -> (132.715, 67.564)
  line L681 (132.715, 67.564) -> (133.985, 67.564)
  line L682 (135.255, 61.976) -> (135.255, 64.262)
  line L683 (136.5173, 61.976) -> (135.255, 61.976)
  line L684 (136.5173, 64.262) -> (136.5173, 61.976)
  line L685 (135.255, 64.262) -> (136.5173, 64.262)
  line L686 (137.795, 65.278) -> (137.795, 67.564)
  line L687 (139.065, 65.278) -> (137.795, 65.278)
  line L688 (139.065, 67.564) -> (139.065, 65.278)
  line L689 (137.795, 67.564) -> (139.065, 67.564)
  line L690 (140.335, 61.976) -> (140.335, 64.262)
  line L691 (140.335, 64.262) -> (141.5973, 64.262)
  line L692 (141.5973, 64.262) -> (141.5973, 61.976)
  line L693 (141.5973, 61.976) -> (140.335, 61.976)
  line L694 (142.875, 65.278) -> (142.875, 67.564)
  line L695 (142.875, 67.564) -> (144.145, 67.564)
  line L696 (144.145, 67.564) -> (144.145, 65.278)
  line L697 (144.145, 65.278) -> (142.875, 65.278)
  line L698 (145.415, 64.262) -> (146.6773, 64.262)
  line L699 (146.6773, 64.262) -> (146.6773, 61.976)
  line L700 (146.6773, 61.976) -> (145.415, 61.976)
  line L701 (145.415, 61.976) -> (145.415, 64.262)
  line L702 (127.635, 90.678) -> (127.635, 92.964)
  line L703 (127.635, 92.964) -> (128.905, 92.964)
  line L704 (128.905, 92.964) -> (128.905, 90.678)
  line L705 (128.905, 90.678) -> (127.635, 90.678)
  line L706 (130.175, 89.662) -> (131.4373, 89.662)
  line L707 (131.4373, 89.662) -> (131.4373, 87.376)
  line L708 (131.4373, 87.376) -> (130.175, 87.376)
  line L709 (130.175, 87.376) -> (130.175, 89.662)
  line L710 (133.985, 90.678) -> (132.715, 90.678)
  line L711 (133.985, 92.964) -> (133.985, 90.678)
  line L712 (132.715, 90.678) -> (132.715, 92.964)
  line L713 (132.715, 92.964) -> (133.985, 92.964)
  line L714 (135.255, 87.376) -> (135.255, 89.662)
  line L715 (136.5173, 87.376) -> (135.255, 87.376)
  line L716 (136.5173, 89.662) -> (136.5173, 87.376)
  line L717 (135.255, 89.662) -> (136.5173, 89.662)
  line L718 (137.795, 90.678) -> (137.795, 92.964)
  line L719 (139.065, 90.678) -> (137.795, 90.678)
  line L720 (139.065, 92.964) -> (139.065, 90.678)
  line L721 (137.795, 92.964) -> (139.065, 92.964)
  line L722 (140.335, 87.376) -> (140.335, 89.662)
  line L723 (140.335, 89.662) -> (141.5973, 89.662)
  line L724 (141.5973, 89.662) -> (141.5973, 87.376)
  line L725 (141.5973, 87.376) -> (140.335, 87.376)
  line L726 (142.875, 90.678) -> (142.875, 92.964)
  line L727 (142.875, 92.964) -> (144.145, 92.964)
  line L728 (144.145, 92.964) -> (144.145, 90.678)
  line L729 (144.145, 90.678) -> (142.875, 90.678)
  line L730 (145.415, 89.662) -> (146.6773, 89.662)
  line L731 (146.6773, 89.662) -> (146.6773, 87.376)
  line L732 (146.6773, 87.376) -> (145.415, 87.376)
  line L733 (145.415, 87.376) -> (145.415, 89.662)
  line L734 (127.635, 116.078) -> (127.635, 118.364)
  line L735 (127.635, 118.364) -> (128.905, 118.364)
  line L736 (128.905, 118.364) -> (128.905, 116.078)
  line L737 (128.905, 116.078) -> (127.635, 116.078)
  line L738 (130.175, 115.062) -> (131.4373, 115.062)
  line L739 (131.4373, 115.062) -> (131.4373, 112.776)
  line L740 (131.4373, 112.776) -> (130.175, 112.776)
  line L741 (130.175, 112.776) -> (130.175, 115.062)
  line L742 (133.985, 116.078) -> (132.715, 116.078)
  line L743 (133.985, 118.364) -> (133.985, 116.078)
  line L744 (132.715, 116.078) -> (132.715, 118.364)
  line L745 (132.715, 118.364) -> (133.985, 118.364)
  line L746 (135.255, 112.776) -> (135.255, 115.062)
  line L747 (136.5173, 112.776) -> (135.255, 112.776)
  line L748 (136.5173, 115.062) -> (136.5173, 112.776)
  line L749 (135.255, 115.062) -> (136.5173, 115.062)
  line L750 (137.795, 116.078) -> (137.795, 118.364)
  line L751 (139.065, 116.078) -> (137.795, 116.078)
  line L752 (139.065, 118.364) -> (139.065, 116.078)
  line L753 (137.795, 118.364) -> (139.065, 118.364)
  line L754 (140.335, 112.776) -> (140.335, 115.062)
  line L755 (140.335, 115.062) -> (141.5973, 115.062)
  line L756 (141.5973, 115.062) -> (141.5973, 112.776)
  line L757 (141.5973, 112.776) -> (140.335, 112.776)
  line L758 (142.875, 116.078) -> (142.875, 118.364)
  line L759 (142.875, 118.364) -> (144.145, 118.364)
  line L760 (144.145, 118.364) -> (144.145, 116.078)
  line L761 (144.145, 116.078) -> (142.875, 116.078)
  line L762 (145.415, 115.062) -> (146.6773, 115.062)
  line L763 (146.6773, 115.062) -> (146.6773, 112.776)
  line L764 (146.6773, 112.776) -> (145.415, 112.776)
  line L765 (145.415, 112.776) -> (145.415, 115.062)
  line L766 (127.635, 141.478) -> (127.635, 143.764)
  line L767 (127.635, 143.764) -> (128.905, 143.764)
  line L768 (128.905, 143.764) -> (128.905, 141.478)
  line L769 (128.905, 141.478) -> (127.635, 141.478)
  line L770 (130.175, 140.462) -> (131.4373, 140.462)
  line L771 (131.4373, 140.462) -> (131.4373, 138.176)
  line L772 (131.4373, 138.176) -> (130.175, 138.176)
  line L773 (130.175, 138.176) -> (130.175, 140.462)
  line L774 (133.985, 141.478) -> (132.715, 141.478)
  line L775 (133.985, 143.764) -> (133.985, 141.478)
  line L776 (132.715, 141.478) -> (132.715, 143.764)
  line L777 (132.715, 143.764) -> (133.985, 143.764)
  line L778 (135.255, 138.176) -> (135.255, 140.462)
  line L779 (136.5173, 138.176) -> (135.255, 138.176)
  line L780 (136.5173, 140.462) -> (136.5173, 138.176)
  line L781 (135.255, 140.462) -> (136.5173, 140.462)
  line L782 (137.795, 141.478) -> (137.795, 143.764)
  line L783 (139.065, 141.478) -> (137.795, 141.478)
  line L784 (139.065, 143.764) -> (139.065, 141.478)
  line L785 (137.795, 143.764) -> (139.065, 143.764)
  line L786 (140.335, 138.176) -> (140.335, 140.462)
  line L787 (140.335, 140.462) -> (141.5973, 140.462)
  line L788 (141.5973, 140.462) -> (141.5973, 138.176)
  line L789 (141.5973, 138.176) -> (140.335, 138.176)
  line L790 (142.875, 141.478) -> (142.875, 143.764)
  line L791 (142.875, 143.764) -> (144.145, 143.764)
  line L792 (144.145, 143.764) -> (144.145, 141.478)
  line L793 (144.145, 141.478) -> (142.875, 141.478)
  line L794 (145.415, 140.462) -> (146.6773, 140.462)
  line L795 (146.6773, 140.462) -> (146.6773, 138.176)
  line L796 (146.6773, 138.176) -> (145.415, 138.176)
  line L797 (145.415, 138.176) -> (145.415, 140.462)
  line L798 (127.635, 166.878) -> (127.635, 169.164)
  line L799 (127.635, 169.164) -> (128.905, 169.164)
  line L800 (128.905, 169.164) -> (128.905, 166.878)
  line L801 (128.905, 166.878) -> (127.635, 166.878)
  line L802 (130.175, 165.862) -> (131.4373, 165.862)
  line L803 (131.4373, 165.862) -> (131.4373, 163.576)
  line L804 (131.4373, 163.576) -> (130.175, 163.576)
  line L805 (130.175, 163.576) -> (130.175, 165.862)
  line L806 (133.985, 166.878) -> (132.715, 166.878)
  line L807 (133.985, 169.164) -> (133.985, 166.878)
  line L808 (132.715, 166.878) -> (132.715, 169.164)
  line L809 (132.715, 169.164) -> (133.985, 169.164)
  line L810 (135.255, 163.576) -> (135.255, 165.862)
  line L811 (136.5173, 163.576) -> (135.255, 163.576)
  line L812 (136.5173, 165.862) -> (136.5173, 163.576)
  line L813 (135.255, 165.862) -> (136.5173, 165.862)
  line L814 (137.795, 166.878) -> (137.795, 169.164)
  line L815 (139.065, 166.878) -> (137.795, 166.878)
  line L816 (139.065, 169.164) -> (139.065, 166.878)
  line L817 (137.795, 169.164) -> (139.065, 169.164)
  line L818 (140.335, 163.576) -> (140.335, 165.862)
  line L819 (140.335, 165.862) -> (141.5973, 165.862)
  line L820 (141.5973, 165.862) -> (141.5973, 163.576)
  line L821 (141.5973, 163.576) -> (140.335, 163.576)
  line L822 (142.875, 166.878) -> (142.875, 169.164)
  line L823 (142.875, 169.164) -> (144.145, 169.164)
  line L824 (144.145, 169.164) -> (144.145, 166.878)
  line L825 (144.145, 166.878) -> (142.875, 166.878)
  line L826 (145.415, 165.862) -> (146.6773, 165.862)
  line L827 (146.6773, 165.862) -> (146.6773, 163.576)
  line L828 (146.6773, 163.576) -> (145.415, 163.576)
  line L829 (145.415, 163.576) -> (145.415, 165.862)
  line L830 (127.635, 192.278) -> (127.635, 194.564)
  line L831 (127.635, 194.564) -> (128.905, 194.564)
  line L832 (128.905, 194.564) -> (128.905, 192.278)
  line L833 (128.905, 192.278) -> (127.635, 192.278)
  line L834 (130.175, 191.262) -> (131.4373, 191.262)
  line L835 (131.4373, 191.262) -> (131.4373, 188.976)
  line L836 (131.4373, 188.976) -> (130.175, 188.976)
  line L837 (130.175, 188.976) -> (130.175, 191.262)
  line L838 (133.985, 192.278) -> (132.715, 192.278)
  line L839 (133.985, 194.564) -> (133.985, 192.278)
  line L840 (132.715, 192.278) -> (132.715, 194.564)
  line L841 (132.715, 194.564) -> (133.985, 194.564)
  line L842 (135.255, 188.976) -> (135.255, 191.262)
  line L843 (136.5173, 188.976) -> (135.255, 188.976)
  line L844 (136.5173, 191.262) -> (136.5173, 188.976)
  line L845 (135.255, 191.262) -> (136.5173, 191.262)
  line L846 (137.795, 192.278) -> (137.795, 194.564)
  line L847 (139.065, 192.278) -> (137.795, 192.278)
  line L848 (139.065, 194.564) -> (139.065, 192.278)
  line L849 (137.795, 194.564) -> (139.065, 194.564)
  line L850 (140.335, 188.976) -> (140.335, 191.262)
  line L851 (140.335, 191.262) -> (141.5973, 191.262)
  line L852 (141.5973, 191.262) -> (141.5973, 188.976)
  line L853 (141.5973, 188.976) -> (140.335, 188.976)
  line L854 (142.875, 192.278) -> (142.875, 194.564)
  line L855 (142.875, 194.564) -> (144.145, 194.564)
  line L856 (144.145, 194.564) -> (144.145, 192.278)
  line L857 (144.145, 192.278) -> (142.875, 192.278)
  line L858 (145.415, 191.262) -> (146.6773, 191.262)
  line L859 (146.6773, 191.262) -> (146.6773, 188.976)
  line L860 (146.6773, 188.976) -> (145.415, 188.976)
  line L861 (145.415, 188.976) -> (145.415, 191.262)
  line L862 (0, 0) -> (17.78, 0) construction
  line L863 (17.78, 0) -> (17.78, 22.86) construction
  line L864 (17.78, 22.86) -> (0, 22.86) construction
  line L865 (0, 22.86) -> (0, 0) construction
  circle A0 centre (17.78, 22.86) radius 0.508
  line L866 (17.78, 22.86) -> (33.02, 22.86) construction
  line L867 (17.78, 22.86) -> (33.02, 22.86) construction
  circle A1 centre (33.02, 22.86) radius 0.508
  line L868 (25.4, 22.86) -> (25.4, 27.94) construction
  circle A2 centre (25.4, 27.94) radius 0.508
  circle A3 centre (43.18, 22.86) radius 0.508
  circle A4 centre (50.8, 27.94) radius 0.508
  circle A5 centre (58.42, 22.86) radius 0.508
  circle A6 centre (68.58, 22.86) radius 0.508
  circle A7 centre (76.2, 27.94) radius 0.508
  circle A8 centre (83.82, 22.86) radius 0.508
  circle A9 centre (93.98, 22.86) radius 0.508
  circle A10 centre (101.6, 27.94) radius 0.508
  circle A11 centre (109.22, 22.86) radius 0.508
  circle A12 centre (119.38, 22.86) radius 0.508
  circle A13 centre (127, 27.94) radius 0.508
  circle A14 centre (134.62, 22.86) radius 0.508
  circle A15 centre (144.78, 22.86) radius 0.508
  circle A16 centre (152.4, 27.94) radius 0.508
  circle A17 centre (160.02, 22.86) radius 0.508
  circle A18 centre (170.18, 22.86) radius 0.508
  circle A19 centre (177.8, 27.94) radius 0.508
  circle A20 centre (185.42, 22.86) radius 0.508
  circle A21 centre (195.58, 22.86) radius 0.508
  circle A22 centre (203.2, 27.94) radius 0.508
  circle A23 centre (210.82, 22.86) radius 0.508
  circle A24 centre (17.78, 48.26) radius 0.508
  circle A25 centre (25.4, 53.34) radius 0.508
  circle A26 centre (33.02, 48.26) radius 0.508
  circle A27 centre (43.18, 48.26) radius 0.508
  circle A28 centre (50.8, 53.34) radius 0.508
  circle A29 centre (58.42, 48.26) radius 0.508
  circle A30 centre (68.58, 48.26) radius 0.508
  circle A31 centre (76.2, 53.34) radius 0.508
  circle A32 centre (83.82, 48.26) radius 0.508
  circle A33 centre (93.98, 48.26) radius 0.508
  circle A34 centre (101.6, 53.34) radius 0.508
  circle A35 centre (109.22, 48.26) radius 0.508
  circle A36 centre (119.38, 48.26) radius 0.508
  circle A37 centre (127, 53.34) radius 0.508
  circle A38 centre (134.62, 48.26) radius 0.508
  circle A39 centre (144.78, 48.26) radius 0.508
  circle A40 centre (152.4, 53.34) radius 0.508
  circle A41 centre (160.02, 48.26) radius 0.508
  circle A42 centre (170.18, 48.26) radius 0.508
  circle A43 centre (177.8, 53.34) radius 0.508
  circle A44 centre (185.42, 48.26) radius 0.508
  circle A45 centre (195.58, 48.26) radius 0.508
  circle A46 centre (203.2, 53.34) radius 0.508
  circle A47 centre (210.82, 48.26) radius 0.508
  circle A48 centre (17.78, 73.66) radius 0.508
  circle A49 centre (25.4, 78.74) radius 0.508
  circle A50 centre (33.02, 73.66) radius 0.508
  circle A51 centre (43.18, 73.66) radius 0.508
  circle A52 centre (50.8, 78.74) radius 0.508
  circle A53 centre (58.42, 73.66) radius 0.508
  circle A54 centre (68.58, 73.66) radius 0.508
  circle A55 centre (76.2, 78.74) radius 0.508
  circle A56 centre (83.82, 73.66) radius 0.508
  circle A57 centre (93.98, 73.66) radius 0.508
  circle A58 centre (101.6, 78.74) radius 0.508
  circle A59 centre (109.22, 73.66) radius 0.508
  circle A60 centre (119.38, 73.66) radius 0.508
  circle A61 centre (127, 78.74) radius 0.508
  circle A62 centre (134.62, 73.66) radius 0.508
  circle A63 centre (144.78, 73.66) radius 0.508
  circle A64 centre (152.4, 78.74) radius 0.508
  circle A65 centre (160.02, 73.66) radius 0.508
  circle A66 centre (170.18, 73.66) radius 0.508
  circle A67 centre (177.8, 78.74) radius 0.508
  circle A68 centre (185.42, 73.66) radius 0.508
  circle A69 centre (195.58, 73.66) radius 0.508
  circle A70 centre (203.2, 78.74) radius 0.508
  circle A71 centre (210.82, 73.66) radius 0.508
  circle A72 centre (17.78, 99.06) radius 0.508
  circle A73 centre (25.4, 104.14) radius 0.508
  circle A74 centre (33.02, 99.06) radius 0.508
  circle A75 centre (43.18, 99.06) radius 0.508
  circle A76 centre (50.8, 104.14) radius 0.508
  circle A77 centre (58.42, 99.06) radius 0.508
  circle A78 centre (68.58, 99.06) radius 0.508
  circle A79 centre (76.2, 104.14) radius 0.508
  circle A80 centre (83.82, 99.06) radius 0.508
  circle A81 centre (93.98, 99.06) radius 0.508
  circle A82 centre (101.6, 104.14) radius 0.508
  circle A83 centre (109.22, 99.06) radius 0.508
  circle A84 centre (119.38, 99.06) radius 0.508
  circle A85 centre (127, 104.14) radius 0.508
  circle A86 centre (134.62, 99.06) radius 0.508
  circle A87 centre (144.78, 99.06) radius 0.508
  circle A88 centre (152.4, 104.14) radius 0.508
  circle A89 centre (160.02, 99.06) radius 0.508
  circle A90 centre (170.18, 99.06) radius 0.508
  circle A91 centre (177.8, 104.14) radius 0.508
  circle A92 centre (185.42, 99.06) radius 0.508
  circle A93 centre (195.58, 99.06) radius 0.508
  circle A94 centre (203.2, 104.14) radius 0.508
  circle A95 centre (210.82, 99.06) radius 0.508
  circle A96 centre (17.78, 124.46) radius 0.508
  circle A97 centre (25.4, 129.54) radius 0.508
  circle A98 centre (33.02, 124.46) radius 0.508
  circle A99 centre (43.18, 124.46) radius 0.508
  circle A100 centre (50.8, 129.54) radius 0.508
  circle A101 centre (58.42, 124.46) radius 0.508
  circle A102 centre (68.58, 124.46) radius 0.508
  circle A103 centre (76.2, 129.54) radius 0.508
  circle A104 centre (83.82, 124.46) radius 0.508
  circle A105 centre (93.98, 124.46) radius 0.508
  circle A106 centre (101.6, 129.54) radius 0.508
  circle A107 centre (109.22, 124.46) radius 0.508
  circle A108 centre (119.38, 124.46) radius 0.508
  circle A109 centre (127, 129.54) radius 0.508
  circle A110 centre (134.62, 124.46) radius 0.508
  circle A111 centre (144.78, 124.46) radius 0.508
  circle A112 centre (152.4, 129.54) radius 0.508
  circle A113 centre (160.02, 124.46) radius 0.508
  circle A114 centre (170.18, 124.46) radius 0.508
  circle A115 centre (177.8, 129.54) radius 0.508
  circle A116 centre (185.42, 124.46) radius 0.508
  circle A117 centre (195.58, 124.46) radius 0.508
  circle A118 centre (203.2, 129.54) radius 0.508
  circle A119 centre (210.82, 124.46) radius 0.508
  circle A120 centre (17.78, 149.86) radius 0.508
  circle A121 centre (25.4, 154.94) radius 0.508
  circle A122 centre (33.02, 149.86) radius 0.508
  circle A123 centre (43.18, 149.86) radius 0.508
  circle A124 centre (50.8, 154.94) radius 0.508
  circle A125 centre (58.42, 149.86) radius 0.508
  circle A126 centre (68.58, 149.86) radius 0.508
  circle A127 centre (76.2, 154.94) radius 0.508
  circle A128 centre (83.82, 149.86) radius 0.508
  circle A129 centre (93.98, 149.86) radius 0.508
  circle A130 centre (101.6, 154.94) radius 0.508
  circle A131 centre (109.22, 149.86) radius 0.508
  circle A132 centre (119.38, 149.86) radius 0.508
  circle A133 centre (127, 154.94) radius 0.508
  circle A134 centre (134.62, 149.86) radius 0.508
  circle A135 centre (144.78, 149.86) radius 0.508
  circle A136 centre (152.4, 154.94) radius 0.508
  circle A137 centre (160.02, 149.86) radius 0.508
  circle A138 centre (170.18, 149.86) radius 0.508
  circle A139 centre (177.8, 154.94) radius 0.508
  circle A140 centre (185.42, 149.86) radius 0.508
  circle A141 centre (195.58, 149.86) radius 0.508
  circle A142 centre (203.2, 154.94) radius 0.508
  circle A143 centre (210.82, 149.86) radius 0.508
  circle A144 centre (17.78, 175.26) radius 0.508
  circle A145 centre (25.4, 180.34) radius 0.508
  circle A146 centre (33.02, 175.26) radius 0.508
  circle A147 centre (43.18, 175.26) radius 0.508
  circle A148 centre (50.8, 180.34) radius 0.508
  circle A149 centre (58.42, 175.26) radius 0.508
  circle A150 centre (68.58, 175.26) radius 0.508
  circle A151 centre (76.2, 180.34) radius 0.508
  circle A152 centre (83.82, 175.26) radius 0.508
  circle A153 centre (93.98, 175.26) radius 0.508
  circle A154 centre (101.6, 180.34) radius 0.508
  circle A155 centre (109.22, 175.26) radius 0.508
  circle A156 centre (119.38, 175.26) radius 0.508
  circle A157 centre (127, 180.34) radius 0.508
  circle A158 centre (134.62, 175.26) radius 0.508
  circle A159 centre (144.78, 175.26) radius 0.508
  circle A160 centre (152.4, 180.34) radius 0.508
  circle A161 centre (160.02, 175.26) radius 0.508
  circle A162 centre (170.18, 175.26) radius 0.508
  circle A163 centre (177.8, 180.34) radius 0.508
  circle A164 centre (185.42, 175.26) radius 0.508
  circle A165 centre (195.58, 175.26) radius 0.508
  circle A166 centre (203.2, 180.34) radius 0.508
  circle A167 centre (210.82, 175.26) radius 0.508
  circle A168 centre (17.78, 200.66) radius 0.508
  circle A169 centre (25.4, 205.74) radius 0.508
  circle A170 centre (33.02, 200.66) radius 0.508
  circle A171 centre (43.18, 200.66) radius 0.508
  circle A172 centre (50.8, 205.74) radius 0.508
  circle A173 centre (58.42, 200.66) radius 0.508
  circle A174 centre (68.58, 200.66) radius 0.508
  circle A175 centre (76.2, 205.74) radius 0.508
  circle A176 centre (83.82, 200.66) radius 0.508
  circle A177 centre (93.98, 200.66) radius 0.508
  circle A178 centre (101.6, 205.74) radius 0.508
  circle A179 centre (109.22, 200.66) radius 0.508
  circle A180 centre (119.38, 200.66) radius 0.508
  circle A181 centre (127, 205.74) radius 0.508
  circle A182 centre (134.62, 200.66) radius 0.508
  circle A183 centre (144.78, 200.66) radius 0.508
  circle A184 centre (152.4, 205.74) radius 0.508
  circle A185 centre (160.02, 200.66) radius 0.508
  circle A186 centre (170.18, 200.66) radius 0.508
  circle A187 centre (177.8, 205.74) radius 0.508
  circle A188 centre (185.42, 200.66) radius 0.508
  circle A189 centre (195.58, 200.66) radius 0.508
  circle A190 centre (203.2, 205.74) radius 0.508
  circle A191 centre (210.82, 200.66) radius 0.508
  line L869 (228.6, 0) -> (228.6, 228.6) construction
  line L870 (228.6, 228.6) -> (194.6275, 228.6) construction
  line L871 (194.6275, 228.6) -> (194.6275, 213.614) construction
  line L872 (194.6275, 213.614) -> (228.6, 213.614) construction
  line L873 (228.6, 213.614) -> (228.6, 228.6) construction
  line L874 (194.6275, 213.614) -> (186.3725, 213.614)
  line L875 (186.3725, 213.614) -> (186.3725, 205.359)
  line L876 (186.3725, 205.359) -> (194.6275, 205.359)
  line L877 (194.6275, 205.359) -> (194.6275, 213.614)
  circle A192 centre (190.5, 205.359) radius 2.1336
  circle A193 centre (190.5, 205.359) radius 0.508
  line L878 (160.9725, 213.614) -> (160.9725, 205.359)
  line L879 (169.2275, 213.614) -> (160.9725, 213.614)
  line L880 (169.2275, 205.359) -> (169.2275, 213.614)
  line L881 (160.9725, 205.359) -> (169.2275, 205.359)
  circle A194 centre (165.1, 205.359) radius 2.1336
  circle A195 centre (165.1, 205.359) radius 0.508
  line L882 (135.5725, 213.614) -> (135.5725, 205.359)
  line L883 (143.8275, 213.614) -> (135.5725, 213.614)
  line L884 (143.8275, 205.359) -> (143.8275, 213.614)
  line L885 (135.5725, 205.359) -> (143.8275, 205.359)
  circle A196 centre (139.7, 205.359) radius 2.1336
  circle A197 centre (139.7, 205.359) radius 0.508
  line L886 (110.1725, 213.614) -> (110.1725, 205.359)
  line L887 (118.4275, 213.614) -> (110.1725, 213.614)
  line L888 (118.4275, 205.359) -> (118.4275, 213.614)
  line L889 (110.1725, 205.359) -> (118.4275, 205.359)
  circle A198 centre (114.3, 205.359) radius 2.1336
  circle A199 centre (114.3, 205.359) radius 0.508
  line L890 (84.7725, 213.614) -> (84.7725, 205.359)
  line L891 (93.0275, 213.614) -> (84.7725, 213.614)
  line L892 (93.0275, 205.359) -> (93.0275, 213.614)
  line L893 (84.7725, 205.359) -> (93.0275, 205.359)
  circle A200 centre (88.9, 205.359) radius 2.1336
  circle A201 centre (88.9, 205.359) radius 0.508
  line L894 (59.3725, 213.614) -> (59.3725, 205.359)
  line L895 (67.6275, 213.614) -> (59.3725, 213.614)
  line L896 (67.6275, 205.359) -> (67.6275, 213.614)
  line L897 (59.3725, 205.359) -> (67.6275, 205.359)
  circle A202 centre (63.5, 205.359) radius 2.1336
  circle A203 centre (63.5, 205.359) radius 0.508
  line L898 (33.9725, 213.614) -> (33.9725, 205.359)
  line L899 (42.2275, 213.614) -> (33.9725, 213.614)
  line L900 (42.2275, 205.359) -> (42.2275, 213.614)
  line L901 (33.9725, 205.359) -> (42.2275, 205.359)
  circle A204 centre (38.1, 205.359) radius 2.1336
  circle A205 centre (38.1, 205.359) radius 0.508
  line L902 (194.6275, 205.359) -> (194.6275, 199.263) construction
  line L903 (194.6275, 205.359) -> (200.7235, 205.359) construction
  line L904 (194.6275, 199.263) -> (192.0875, 199.263) construction
  line L905 (194.6275, 199.263) -> (197.1675, 199.263) construction
  line L906 (194.6275, 184.912) -> (186.3725, 184.912)
  line L907 (186.3725, 184.912) -> (186.3725, 193.167)
  line L908 (186.3725, 193.167) -> (194.6275, 193.167)
  line L909 (194.6275, 193.167) -> (194.6275, 184.912)
  circle A206 centre (190.5, 193.167) radius 2.1336
  circle A207 centre (190.5, 193.167) radius 0.508
  dimension "d6" = 82.55
  dimension "d7" = 12.7
  dimension "d8" = 63.5
  dimension "d9" = 2.54
  dimension "d10" = 17.78
  dimension "d11" = 2.54
  dimension "d14" = 22.86
  dimension "d21" = 25.4
  dimension "d26" = 0.635
  dimension "d27" = 0.762
  dimension "d28" = 1.27
  dimension "d29" = 2.286
  dimension "d32" = 5.08
  dimension "d37" = 0.635
  dimension "d38" = 0.762
  dimension "d39" = 2.286
  dimension "d42" = 5.08
  dimension "d49" = 25.4
  dimension "d52" = 22.86
  dimension "d55" = 17.78
  dimension "d56" = 22.86
  dimension "d57" = 1.016
  dimension "d58" = 15.24
  dimension "d60" = 1.016
  dimension "d61" = 5.08
  dimension "d62" = 1.016
  dimension "d65" = 25.4
  dimension "d68" = 25.4
  dimension "d71" = 33.9725
  dimension "d72" = 14.986
  dimension "d73" = 8.255
  dimension "d74" = 8.255
  dimension "d75" = 4.2672
  dimension "d76" = 1.016
  dimension "d79" = 25.4
  dimension "d84" = 6.096
  dimension "d86" = 2.54
properties part number "Cube_Pcb"
